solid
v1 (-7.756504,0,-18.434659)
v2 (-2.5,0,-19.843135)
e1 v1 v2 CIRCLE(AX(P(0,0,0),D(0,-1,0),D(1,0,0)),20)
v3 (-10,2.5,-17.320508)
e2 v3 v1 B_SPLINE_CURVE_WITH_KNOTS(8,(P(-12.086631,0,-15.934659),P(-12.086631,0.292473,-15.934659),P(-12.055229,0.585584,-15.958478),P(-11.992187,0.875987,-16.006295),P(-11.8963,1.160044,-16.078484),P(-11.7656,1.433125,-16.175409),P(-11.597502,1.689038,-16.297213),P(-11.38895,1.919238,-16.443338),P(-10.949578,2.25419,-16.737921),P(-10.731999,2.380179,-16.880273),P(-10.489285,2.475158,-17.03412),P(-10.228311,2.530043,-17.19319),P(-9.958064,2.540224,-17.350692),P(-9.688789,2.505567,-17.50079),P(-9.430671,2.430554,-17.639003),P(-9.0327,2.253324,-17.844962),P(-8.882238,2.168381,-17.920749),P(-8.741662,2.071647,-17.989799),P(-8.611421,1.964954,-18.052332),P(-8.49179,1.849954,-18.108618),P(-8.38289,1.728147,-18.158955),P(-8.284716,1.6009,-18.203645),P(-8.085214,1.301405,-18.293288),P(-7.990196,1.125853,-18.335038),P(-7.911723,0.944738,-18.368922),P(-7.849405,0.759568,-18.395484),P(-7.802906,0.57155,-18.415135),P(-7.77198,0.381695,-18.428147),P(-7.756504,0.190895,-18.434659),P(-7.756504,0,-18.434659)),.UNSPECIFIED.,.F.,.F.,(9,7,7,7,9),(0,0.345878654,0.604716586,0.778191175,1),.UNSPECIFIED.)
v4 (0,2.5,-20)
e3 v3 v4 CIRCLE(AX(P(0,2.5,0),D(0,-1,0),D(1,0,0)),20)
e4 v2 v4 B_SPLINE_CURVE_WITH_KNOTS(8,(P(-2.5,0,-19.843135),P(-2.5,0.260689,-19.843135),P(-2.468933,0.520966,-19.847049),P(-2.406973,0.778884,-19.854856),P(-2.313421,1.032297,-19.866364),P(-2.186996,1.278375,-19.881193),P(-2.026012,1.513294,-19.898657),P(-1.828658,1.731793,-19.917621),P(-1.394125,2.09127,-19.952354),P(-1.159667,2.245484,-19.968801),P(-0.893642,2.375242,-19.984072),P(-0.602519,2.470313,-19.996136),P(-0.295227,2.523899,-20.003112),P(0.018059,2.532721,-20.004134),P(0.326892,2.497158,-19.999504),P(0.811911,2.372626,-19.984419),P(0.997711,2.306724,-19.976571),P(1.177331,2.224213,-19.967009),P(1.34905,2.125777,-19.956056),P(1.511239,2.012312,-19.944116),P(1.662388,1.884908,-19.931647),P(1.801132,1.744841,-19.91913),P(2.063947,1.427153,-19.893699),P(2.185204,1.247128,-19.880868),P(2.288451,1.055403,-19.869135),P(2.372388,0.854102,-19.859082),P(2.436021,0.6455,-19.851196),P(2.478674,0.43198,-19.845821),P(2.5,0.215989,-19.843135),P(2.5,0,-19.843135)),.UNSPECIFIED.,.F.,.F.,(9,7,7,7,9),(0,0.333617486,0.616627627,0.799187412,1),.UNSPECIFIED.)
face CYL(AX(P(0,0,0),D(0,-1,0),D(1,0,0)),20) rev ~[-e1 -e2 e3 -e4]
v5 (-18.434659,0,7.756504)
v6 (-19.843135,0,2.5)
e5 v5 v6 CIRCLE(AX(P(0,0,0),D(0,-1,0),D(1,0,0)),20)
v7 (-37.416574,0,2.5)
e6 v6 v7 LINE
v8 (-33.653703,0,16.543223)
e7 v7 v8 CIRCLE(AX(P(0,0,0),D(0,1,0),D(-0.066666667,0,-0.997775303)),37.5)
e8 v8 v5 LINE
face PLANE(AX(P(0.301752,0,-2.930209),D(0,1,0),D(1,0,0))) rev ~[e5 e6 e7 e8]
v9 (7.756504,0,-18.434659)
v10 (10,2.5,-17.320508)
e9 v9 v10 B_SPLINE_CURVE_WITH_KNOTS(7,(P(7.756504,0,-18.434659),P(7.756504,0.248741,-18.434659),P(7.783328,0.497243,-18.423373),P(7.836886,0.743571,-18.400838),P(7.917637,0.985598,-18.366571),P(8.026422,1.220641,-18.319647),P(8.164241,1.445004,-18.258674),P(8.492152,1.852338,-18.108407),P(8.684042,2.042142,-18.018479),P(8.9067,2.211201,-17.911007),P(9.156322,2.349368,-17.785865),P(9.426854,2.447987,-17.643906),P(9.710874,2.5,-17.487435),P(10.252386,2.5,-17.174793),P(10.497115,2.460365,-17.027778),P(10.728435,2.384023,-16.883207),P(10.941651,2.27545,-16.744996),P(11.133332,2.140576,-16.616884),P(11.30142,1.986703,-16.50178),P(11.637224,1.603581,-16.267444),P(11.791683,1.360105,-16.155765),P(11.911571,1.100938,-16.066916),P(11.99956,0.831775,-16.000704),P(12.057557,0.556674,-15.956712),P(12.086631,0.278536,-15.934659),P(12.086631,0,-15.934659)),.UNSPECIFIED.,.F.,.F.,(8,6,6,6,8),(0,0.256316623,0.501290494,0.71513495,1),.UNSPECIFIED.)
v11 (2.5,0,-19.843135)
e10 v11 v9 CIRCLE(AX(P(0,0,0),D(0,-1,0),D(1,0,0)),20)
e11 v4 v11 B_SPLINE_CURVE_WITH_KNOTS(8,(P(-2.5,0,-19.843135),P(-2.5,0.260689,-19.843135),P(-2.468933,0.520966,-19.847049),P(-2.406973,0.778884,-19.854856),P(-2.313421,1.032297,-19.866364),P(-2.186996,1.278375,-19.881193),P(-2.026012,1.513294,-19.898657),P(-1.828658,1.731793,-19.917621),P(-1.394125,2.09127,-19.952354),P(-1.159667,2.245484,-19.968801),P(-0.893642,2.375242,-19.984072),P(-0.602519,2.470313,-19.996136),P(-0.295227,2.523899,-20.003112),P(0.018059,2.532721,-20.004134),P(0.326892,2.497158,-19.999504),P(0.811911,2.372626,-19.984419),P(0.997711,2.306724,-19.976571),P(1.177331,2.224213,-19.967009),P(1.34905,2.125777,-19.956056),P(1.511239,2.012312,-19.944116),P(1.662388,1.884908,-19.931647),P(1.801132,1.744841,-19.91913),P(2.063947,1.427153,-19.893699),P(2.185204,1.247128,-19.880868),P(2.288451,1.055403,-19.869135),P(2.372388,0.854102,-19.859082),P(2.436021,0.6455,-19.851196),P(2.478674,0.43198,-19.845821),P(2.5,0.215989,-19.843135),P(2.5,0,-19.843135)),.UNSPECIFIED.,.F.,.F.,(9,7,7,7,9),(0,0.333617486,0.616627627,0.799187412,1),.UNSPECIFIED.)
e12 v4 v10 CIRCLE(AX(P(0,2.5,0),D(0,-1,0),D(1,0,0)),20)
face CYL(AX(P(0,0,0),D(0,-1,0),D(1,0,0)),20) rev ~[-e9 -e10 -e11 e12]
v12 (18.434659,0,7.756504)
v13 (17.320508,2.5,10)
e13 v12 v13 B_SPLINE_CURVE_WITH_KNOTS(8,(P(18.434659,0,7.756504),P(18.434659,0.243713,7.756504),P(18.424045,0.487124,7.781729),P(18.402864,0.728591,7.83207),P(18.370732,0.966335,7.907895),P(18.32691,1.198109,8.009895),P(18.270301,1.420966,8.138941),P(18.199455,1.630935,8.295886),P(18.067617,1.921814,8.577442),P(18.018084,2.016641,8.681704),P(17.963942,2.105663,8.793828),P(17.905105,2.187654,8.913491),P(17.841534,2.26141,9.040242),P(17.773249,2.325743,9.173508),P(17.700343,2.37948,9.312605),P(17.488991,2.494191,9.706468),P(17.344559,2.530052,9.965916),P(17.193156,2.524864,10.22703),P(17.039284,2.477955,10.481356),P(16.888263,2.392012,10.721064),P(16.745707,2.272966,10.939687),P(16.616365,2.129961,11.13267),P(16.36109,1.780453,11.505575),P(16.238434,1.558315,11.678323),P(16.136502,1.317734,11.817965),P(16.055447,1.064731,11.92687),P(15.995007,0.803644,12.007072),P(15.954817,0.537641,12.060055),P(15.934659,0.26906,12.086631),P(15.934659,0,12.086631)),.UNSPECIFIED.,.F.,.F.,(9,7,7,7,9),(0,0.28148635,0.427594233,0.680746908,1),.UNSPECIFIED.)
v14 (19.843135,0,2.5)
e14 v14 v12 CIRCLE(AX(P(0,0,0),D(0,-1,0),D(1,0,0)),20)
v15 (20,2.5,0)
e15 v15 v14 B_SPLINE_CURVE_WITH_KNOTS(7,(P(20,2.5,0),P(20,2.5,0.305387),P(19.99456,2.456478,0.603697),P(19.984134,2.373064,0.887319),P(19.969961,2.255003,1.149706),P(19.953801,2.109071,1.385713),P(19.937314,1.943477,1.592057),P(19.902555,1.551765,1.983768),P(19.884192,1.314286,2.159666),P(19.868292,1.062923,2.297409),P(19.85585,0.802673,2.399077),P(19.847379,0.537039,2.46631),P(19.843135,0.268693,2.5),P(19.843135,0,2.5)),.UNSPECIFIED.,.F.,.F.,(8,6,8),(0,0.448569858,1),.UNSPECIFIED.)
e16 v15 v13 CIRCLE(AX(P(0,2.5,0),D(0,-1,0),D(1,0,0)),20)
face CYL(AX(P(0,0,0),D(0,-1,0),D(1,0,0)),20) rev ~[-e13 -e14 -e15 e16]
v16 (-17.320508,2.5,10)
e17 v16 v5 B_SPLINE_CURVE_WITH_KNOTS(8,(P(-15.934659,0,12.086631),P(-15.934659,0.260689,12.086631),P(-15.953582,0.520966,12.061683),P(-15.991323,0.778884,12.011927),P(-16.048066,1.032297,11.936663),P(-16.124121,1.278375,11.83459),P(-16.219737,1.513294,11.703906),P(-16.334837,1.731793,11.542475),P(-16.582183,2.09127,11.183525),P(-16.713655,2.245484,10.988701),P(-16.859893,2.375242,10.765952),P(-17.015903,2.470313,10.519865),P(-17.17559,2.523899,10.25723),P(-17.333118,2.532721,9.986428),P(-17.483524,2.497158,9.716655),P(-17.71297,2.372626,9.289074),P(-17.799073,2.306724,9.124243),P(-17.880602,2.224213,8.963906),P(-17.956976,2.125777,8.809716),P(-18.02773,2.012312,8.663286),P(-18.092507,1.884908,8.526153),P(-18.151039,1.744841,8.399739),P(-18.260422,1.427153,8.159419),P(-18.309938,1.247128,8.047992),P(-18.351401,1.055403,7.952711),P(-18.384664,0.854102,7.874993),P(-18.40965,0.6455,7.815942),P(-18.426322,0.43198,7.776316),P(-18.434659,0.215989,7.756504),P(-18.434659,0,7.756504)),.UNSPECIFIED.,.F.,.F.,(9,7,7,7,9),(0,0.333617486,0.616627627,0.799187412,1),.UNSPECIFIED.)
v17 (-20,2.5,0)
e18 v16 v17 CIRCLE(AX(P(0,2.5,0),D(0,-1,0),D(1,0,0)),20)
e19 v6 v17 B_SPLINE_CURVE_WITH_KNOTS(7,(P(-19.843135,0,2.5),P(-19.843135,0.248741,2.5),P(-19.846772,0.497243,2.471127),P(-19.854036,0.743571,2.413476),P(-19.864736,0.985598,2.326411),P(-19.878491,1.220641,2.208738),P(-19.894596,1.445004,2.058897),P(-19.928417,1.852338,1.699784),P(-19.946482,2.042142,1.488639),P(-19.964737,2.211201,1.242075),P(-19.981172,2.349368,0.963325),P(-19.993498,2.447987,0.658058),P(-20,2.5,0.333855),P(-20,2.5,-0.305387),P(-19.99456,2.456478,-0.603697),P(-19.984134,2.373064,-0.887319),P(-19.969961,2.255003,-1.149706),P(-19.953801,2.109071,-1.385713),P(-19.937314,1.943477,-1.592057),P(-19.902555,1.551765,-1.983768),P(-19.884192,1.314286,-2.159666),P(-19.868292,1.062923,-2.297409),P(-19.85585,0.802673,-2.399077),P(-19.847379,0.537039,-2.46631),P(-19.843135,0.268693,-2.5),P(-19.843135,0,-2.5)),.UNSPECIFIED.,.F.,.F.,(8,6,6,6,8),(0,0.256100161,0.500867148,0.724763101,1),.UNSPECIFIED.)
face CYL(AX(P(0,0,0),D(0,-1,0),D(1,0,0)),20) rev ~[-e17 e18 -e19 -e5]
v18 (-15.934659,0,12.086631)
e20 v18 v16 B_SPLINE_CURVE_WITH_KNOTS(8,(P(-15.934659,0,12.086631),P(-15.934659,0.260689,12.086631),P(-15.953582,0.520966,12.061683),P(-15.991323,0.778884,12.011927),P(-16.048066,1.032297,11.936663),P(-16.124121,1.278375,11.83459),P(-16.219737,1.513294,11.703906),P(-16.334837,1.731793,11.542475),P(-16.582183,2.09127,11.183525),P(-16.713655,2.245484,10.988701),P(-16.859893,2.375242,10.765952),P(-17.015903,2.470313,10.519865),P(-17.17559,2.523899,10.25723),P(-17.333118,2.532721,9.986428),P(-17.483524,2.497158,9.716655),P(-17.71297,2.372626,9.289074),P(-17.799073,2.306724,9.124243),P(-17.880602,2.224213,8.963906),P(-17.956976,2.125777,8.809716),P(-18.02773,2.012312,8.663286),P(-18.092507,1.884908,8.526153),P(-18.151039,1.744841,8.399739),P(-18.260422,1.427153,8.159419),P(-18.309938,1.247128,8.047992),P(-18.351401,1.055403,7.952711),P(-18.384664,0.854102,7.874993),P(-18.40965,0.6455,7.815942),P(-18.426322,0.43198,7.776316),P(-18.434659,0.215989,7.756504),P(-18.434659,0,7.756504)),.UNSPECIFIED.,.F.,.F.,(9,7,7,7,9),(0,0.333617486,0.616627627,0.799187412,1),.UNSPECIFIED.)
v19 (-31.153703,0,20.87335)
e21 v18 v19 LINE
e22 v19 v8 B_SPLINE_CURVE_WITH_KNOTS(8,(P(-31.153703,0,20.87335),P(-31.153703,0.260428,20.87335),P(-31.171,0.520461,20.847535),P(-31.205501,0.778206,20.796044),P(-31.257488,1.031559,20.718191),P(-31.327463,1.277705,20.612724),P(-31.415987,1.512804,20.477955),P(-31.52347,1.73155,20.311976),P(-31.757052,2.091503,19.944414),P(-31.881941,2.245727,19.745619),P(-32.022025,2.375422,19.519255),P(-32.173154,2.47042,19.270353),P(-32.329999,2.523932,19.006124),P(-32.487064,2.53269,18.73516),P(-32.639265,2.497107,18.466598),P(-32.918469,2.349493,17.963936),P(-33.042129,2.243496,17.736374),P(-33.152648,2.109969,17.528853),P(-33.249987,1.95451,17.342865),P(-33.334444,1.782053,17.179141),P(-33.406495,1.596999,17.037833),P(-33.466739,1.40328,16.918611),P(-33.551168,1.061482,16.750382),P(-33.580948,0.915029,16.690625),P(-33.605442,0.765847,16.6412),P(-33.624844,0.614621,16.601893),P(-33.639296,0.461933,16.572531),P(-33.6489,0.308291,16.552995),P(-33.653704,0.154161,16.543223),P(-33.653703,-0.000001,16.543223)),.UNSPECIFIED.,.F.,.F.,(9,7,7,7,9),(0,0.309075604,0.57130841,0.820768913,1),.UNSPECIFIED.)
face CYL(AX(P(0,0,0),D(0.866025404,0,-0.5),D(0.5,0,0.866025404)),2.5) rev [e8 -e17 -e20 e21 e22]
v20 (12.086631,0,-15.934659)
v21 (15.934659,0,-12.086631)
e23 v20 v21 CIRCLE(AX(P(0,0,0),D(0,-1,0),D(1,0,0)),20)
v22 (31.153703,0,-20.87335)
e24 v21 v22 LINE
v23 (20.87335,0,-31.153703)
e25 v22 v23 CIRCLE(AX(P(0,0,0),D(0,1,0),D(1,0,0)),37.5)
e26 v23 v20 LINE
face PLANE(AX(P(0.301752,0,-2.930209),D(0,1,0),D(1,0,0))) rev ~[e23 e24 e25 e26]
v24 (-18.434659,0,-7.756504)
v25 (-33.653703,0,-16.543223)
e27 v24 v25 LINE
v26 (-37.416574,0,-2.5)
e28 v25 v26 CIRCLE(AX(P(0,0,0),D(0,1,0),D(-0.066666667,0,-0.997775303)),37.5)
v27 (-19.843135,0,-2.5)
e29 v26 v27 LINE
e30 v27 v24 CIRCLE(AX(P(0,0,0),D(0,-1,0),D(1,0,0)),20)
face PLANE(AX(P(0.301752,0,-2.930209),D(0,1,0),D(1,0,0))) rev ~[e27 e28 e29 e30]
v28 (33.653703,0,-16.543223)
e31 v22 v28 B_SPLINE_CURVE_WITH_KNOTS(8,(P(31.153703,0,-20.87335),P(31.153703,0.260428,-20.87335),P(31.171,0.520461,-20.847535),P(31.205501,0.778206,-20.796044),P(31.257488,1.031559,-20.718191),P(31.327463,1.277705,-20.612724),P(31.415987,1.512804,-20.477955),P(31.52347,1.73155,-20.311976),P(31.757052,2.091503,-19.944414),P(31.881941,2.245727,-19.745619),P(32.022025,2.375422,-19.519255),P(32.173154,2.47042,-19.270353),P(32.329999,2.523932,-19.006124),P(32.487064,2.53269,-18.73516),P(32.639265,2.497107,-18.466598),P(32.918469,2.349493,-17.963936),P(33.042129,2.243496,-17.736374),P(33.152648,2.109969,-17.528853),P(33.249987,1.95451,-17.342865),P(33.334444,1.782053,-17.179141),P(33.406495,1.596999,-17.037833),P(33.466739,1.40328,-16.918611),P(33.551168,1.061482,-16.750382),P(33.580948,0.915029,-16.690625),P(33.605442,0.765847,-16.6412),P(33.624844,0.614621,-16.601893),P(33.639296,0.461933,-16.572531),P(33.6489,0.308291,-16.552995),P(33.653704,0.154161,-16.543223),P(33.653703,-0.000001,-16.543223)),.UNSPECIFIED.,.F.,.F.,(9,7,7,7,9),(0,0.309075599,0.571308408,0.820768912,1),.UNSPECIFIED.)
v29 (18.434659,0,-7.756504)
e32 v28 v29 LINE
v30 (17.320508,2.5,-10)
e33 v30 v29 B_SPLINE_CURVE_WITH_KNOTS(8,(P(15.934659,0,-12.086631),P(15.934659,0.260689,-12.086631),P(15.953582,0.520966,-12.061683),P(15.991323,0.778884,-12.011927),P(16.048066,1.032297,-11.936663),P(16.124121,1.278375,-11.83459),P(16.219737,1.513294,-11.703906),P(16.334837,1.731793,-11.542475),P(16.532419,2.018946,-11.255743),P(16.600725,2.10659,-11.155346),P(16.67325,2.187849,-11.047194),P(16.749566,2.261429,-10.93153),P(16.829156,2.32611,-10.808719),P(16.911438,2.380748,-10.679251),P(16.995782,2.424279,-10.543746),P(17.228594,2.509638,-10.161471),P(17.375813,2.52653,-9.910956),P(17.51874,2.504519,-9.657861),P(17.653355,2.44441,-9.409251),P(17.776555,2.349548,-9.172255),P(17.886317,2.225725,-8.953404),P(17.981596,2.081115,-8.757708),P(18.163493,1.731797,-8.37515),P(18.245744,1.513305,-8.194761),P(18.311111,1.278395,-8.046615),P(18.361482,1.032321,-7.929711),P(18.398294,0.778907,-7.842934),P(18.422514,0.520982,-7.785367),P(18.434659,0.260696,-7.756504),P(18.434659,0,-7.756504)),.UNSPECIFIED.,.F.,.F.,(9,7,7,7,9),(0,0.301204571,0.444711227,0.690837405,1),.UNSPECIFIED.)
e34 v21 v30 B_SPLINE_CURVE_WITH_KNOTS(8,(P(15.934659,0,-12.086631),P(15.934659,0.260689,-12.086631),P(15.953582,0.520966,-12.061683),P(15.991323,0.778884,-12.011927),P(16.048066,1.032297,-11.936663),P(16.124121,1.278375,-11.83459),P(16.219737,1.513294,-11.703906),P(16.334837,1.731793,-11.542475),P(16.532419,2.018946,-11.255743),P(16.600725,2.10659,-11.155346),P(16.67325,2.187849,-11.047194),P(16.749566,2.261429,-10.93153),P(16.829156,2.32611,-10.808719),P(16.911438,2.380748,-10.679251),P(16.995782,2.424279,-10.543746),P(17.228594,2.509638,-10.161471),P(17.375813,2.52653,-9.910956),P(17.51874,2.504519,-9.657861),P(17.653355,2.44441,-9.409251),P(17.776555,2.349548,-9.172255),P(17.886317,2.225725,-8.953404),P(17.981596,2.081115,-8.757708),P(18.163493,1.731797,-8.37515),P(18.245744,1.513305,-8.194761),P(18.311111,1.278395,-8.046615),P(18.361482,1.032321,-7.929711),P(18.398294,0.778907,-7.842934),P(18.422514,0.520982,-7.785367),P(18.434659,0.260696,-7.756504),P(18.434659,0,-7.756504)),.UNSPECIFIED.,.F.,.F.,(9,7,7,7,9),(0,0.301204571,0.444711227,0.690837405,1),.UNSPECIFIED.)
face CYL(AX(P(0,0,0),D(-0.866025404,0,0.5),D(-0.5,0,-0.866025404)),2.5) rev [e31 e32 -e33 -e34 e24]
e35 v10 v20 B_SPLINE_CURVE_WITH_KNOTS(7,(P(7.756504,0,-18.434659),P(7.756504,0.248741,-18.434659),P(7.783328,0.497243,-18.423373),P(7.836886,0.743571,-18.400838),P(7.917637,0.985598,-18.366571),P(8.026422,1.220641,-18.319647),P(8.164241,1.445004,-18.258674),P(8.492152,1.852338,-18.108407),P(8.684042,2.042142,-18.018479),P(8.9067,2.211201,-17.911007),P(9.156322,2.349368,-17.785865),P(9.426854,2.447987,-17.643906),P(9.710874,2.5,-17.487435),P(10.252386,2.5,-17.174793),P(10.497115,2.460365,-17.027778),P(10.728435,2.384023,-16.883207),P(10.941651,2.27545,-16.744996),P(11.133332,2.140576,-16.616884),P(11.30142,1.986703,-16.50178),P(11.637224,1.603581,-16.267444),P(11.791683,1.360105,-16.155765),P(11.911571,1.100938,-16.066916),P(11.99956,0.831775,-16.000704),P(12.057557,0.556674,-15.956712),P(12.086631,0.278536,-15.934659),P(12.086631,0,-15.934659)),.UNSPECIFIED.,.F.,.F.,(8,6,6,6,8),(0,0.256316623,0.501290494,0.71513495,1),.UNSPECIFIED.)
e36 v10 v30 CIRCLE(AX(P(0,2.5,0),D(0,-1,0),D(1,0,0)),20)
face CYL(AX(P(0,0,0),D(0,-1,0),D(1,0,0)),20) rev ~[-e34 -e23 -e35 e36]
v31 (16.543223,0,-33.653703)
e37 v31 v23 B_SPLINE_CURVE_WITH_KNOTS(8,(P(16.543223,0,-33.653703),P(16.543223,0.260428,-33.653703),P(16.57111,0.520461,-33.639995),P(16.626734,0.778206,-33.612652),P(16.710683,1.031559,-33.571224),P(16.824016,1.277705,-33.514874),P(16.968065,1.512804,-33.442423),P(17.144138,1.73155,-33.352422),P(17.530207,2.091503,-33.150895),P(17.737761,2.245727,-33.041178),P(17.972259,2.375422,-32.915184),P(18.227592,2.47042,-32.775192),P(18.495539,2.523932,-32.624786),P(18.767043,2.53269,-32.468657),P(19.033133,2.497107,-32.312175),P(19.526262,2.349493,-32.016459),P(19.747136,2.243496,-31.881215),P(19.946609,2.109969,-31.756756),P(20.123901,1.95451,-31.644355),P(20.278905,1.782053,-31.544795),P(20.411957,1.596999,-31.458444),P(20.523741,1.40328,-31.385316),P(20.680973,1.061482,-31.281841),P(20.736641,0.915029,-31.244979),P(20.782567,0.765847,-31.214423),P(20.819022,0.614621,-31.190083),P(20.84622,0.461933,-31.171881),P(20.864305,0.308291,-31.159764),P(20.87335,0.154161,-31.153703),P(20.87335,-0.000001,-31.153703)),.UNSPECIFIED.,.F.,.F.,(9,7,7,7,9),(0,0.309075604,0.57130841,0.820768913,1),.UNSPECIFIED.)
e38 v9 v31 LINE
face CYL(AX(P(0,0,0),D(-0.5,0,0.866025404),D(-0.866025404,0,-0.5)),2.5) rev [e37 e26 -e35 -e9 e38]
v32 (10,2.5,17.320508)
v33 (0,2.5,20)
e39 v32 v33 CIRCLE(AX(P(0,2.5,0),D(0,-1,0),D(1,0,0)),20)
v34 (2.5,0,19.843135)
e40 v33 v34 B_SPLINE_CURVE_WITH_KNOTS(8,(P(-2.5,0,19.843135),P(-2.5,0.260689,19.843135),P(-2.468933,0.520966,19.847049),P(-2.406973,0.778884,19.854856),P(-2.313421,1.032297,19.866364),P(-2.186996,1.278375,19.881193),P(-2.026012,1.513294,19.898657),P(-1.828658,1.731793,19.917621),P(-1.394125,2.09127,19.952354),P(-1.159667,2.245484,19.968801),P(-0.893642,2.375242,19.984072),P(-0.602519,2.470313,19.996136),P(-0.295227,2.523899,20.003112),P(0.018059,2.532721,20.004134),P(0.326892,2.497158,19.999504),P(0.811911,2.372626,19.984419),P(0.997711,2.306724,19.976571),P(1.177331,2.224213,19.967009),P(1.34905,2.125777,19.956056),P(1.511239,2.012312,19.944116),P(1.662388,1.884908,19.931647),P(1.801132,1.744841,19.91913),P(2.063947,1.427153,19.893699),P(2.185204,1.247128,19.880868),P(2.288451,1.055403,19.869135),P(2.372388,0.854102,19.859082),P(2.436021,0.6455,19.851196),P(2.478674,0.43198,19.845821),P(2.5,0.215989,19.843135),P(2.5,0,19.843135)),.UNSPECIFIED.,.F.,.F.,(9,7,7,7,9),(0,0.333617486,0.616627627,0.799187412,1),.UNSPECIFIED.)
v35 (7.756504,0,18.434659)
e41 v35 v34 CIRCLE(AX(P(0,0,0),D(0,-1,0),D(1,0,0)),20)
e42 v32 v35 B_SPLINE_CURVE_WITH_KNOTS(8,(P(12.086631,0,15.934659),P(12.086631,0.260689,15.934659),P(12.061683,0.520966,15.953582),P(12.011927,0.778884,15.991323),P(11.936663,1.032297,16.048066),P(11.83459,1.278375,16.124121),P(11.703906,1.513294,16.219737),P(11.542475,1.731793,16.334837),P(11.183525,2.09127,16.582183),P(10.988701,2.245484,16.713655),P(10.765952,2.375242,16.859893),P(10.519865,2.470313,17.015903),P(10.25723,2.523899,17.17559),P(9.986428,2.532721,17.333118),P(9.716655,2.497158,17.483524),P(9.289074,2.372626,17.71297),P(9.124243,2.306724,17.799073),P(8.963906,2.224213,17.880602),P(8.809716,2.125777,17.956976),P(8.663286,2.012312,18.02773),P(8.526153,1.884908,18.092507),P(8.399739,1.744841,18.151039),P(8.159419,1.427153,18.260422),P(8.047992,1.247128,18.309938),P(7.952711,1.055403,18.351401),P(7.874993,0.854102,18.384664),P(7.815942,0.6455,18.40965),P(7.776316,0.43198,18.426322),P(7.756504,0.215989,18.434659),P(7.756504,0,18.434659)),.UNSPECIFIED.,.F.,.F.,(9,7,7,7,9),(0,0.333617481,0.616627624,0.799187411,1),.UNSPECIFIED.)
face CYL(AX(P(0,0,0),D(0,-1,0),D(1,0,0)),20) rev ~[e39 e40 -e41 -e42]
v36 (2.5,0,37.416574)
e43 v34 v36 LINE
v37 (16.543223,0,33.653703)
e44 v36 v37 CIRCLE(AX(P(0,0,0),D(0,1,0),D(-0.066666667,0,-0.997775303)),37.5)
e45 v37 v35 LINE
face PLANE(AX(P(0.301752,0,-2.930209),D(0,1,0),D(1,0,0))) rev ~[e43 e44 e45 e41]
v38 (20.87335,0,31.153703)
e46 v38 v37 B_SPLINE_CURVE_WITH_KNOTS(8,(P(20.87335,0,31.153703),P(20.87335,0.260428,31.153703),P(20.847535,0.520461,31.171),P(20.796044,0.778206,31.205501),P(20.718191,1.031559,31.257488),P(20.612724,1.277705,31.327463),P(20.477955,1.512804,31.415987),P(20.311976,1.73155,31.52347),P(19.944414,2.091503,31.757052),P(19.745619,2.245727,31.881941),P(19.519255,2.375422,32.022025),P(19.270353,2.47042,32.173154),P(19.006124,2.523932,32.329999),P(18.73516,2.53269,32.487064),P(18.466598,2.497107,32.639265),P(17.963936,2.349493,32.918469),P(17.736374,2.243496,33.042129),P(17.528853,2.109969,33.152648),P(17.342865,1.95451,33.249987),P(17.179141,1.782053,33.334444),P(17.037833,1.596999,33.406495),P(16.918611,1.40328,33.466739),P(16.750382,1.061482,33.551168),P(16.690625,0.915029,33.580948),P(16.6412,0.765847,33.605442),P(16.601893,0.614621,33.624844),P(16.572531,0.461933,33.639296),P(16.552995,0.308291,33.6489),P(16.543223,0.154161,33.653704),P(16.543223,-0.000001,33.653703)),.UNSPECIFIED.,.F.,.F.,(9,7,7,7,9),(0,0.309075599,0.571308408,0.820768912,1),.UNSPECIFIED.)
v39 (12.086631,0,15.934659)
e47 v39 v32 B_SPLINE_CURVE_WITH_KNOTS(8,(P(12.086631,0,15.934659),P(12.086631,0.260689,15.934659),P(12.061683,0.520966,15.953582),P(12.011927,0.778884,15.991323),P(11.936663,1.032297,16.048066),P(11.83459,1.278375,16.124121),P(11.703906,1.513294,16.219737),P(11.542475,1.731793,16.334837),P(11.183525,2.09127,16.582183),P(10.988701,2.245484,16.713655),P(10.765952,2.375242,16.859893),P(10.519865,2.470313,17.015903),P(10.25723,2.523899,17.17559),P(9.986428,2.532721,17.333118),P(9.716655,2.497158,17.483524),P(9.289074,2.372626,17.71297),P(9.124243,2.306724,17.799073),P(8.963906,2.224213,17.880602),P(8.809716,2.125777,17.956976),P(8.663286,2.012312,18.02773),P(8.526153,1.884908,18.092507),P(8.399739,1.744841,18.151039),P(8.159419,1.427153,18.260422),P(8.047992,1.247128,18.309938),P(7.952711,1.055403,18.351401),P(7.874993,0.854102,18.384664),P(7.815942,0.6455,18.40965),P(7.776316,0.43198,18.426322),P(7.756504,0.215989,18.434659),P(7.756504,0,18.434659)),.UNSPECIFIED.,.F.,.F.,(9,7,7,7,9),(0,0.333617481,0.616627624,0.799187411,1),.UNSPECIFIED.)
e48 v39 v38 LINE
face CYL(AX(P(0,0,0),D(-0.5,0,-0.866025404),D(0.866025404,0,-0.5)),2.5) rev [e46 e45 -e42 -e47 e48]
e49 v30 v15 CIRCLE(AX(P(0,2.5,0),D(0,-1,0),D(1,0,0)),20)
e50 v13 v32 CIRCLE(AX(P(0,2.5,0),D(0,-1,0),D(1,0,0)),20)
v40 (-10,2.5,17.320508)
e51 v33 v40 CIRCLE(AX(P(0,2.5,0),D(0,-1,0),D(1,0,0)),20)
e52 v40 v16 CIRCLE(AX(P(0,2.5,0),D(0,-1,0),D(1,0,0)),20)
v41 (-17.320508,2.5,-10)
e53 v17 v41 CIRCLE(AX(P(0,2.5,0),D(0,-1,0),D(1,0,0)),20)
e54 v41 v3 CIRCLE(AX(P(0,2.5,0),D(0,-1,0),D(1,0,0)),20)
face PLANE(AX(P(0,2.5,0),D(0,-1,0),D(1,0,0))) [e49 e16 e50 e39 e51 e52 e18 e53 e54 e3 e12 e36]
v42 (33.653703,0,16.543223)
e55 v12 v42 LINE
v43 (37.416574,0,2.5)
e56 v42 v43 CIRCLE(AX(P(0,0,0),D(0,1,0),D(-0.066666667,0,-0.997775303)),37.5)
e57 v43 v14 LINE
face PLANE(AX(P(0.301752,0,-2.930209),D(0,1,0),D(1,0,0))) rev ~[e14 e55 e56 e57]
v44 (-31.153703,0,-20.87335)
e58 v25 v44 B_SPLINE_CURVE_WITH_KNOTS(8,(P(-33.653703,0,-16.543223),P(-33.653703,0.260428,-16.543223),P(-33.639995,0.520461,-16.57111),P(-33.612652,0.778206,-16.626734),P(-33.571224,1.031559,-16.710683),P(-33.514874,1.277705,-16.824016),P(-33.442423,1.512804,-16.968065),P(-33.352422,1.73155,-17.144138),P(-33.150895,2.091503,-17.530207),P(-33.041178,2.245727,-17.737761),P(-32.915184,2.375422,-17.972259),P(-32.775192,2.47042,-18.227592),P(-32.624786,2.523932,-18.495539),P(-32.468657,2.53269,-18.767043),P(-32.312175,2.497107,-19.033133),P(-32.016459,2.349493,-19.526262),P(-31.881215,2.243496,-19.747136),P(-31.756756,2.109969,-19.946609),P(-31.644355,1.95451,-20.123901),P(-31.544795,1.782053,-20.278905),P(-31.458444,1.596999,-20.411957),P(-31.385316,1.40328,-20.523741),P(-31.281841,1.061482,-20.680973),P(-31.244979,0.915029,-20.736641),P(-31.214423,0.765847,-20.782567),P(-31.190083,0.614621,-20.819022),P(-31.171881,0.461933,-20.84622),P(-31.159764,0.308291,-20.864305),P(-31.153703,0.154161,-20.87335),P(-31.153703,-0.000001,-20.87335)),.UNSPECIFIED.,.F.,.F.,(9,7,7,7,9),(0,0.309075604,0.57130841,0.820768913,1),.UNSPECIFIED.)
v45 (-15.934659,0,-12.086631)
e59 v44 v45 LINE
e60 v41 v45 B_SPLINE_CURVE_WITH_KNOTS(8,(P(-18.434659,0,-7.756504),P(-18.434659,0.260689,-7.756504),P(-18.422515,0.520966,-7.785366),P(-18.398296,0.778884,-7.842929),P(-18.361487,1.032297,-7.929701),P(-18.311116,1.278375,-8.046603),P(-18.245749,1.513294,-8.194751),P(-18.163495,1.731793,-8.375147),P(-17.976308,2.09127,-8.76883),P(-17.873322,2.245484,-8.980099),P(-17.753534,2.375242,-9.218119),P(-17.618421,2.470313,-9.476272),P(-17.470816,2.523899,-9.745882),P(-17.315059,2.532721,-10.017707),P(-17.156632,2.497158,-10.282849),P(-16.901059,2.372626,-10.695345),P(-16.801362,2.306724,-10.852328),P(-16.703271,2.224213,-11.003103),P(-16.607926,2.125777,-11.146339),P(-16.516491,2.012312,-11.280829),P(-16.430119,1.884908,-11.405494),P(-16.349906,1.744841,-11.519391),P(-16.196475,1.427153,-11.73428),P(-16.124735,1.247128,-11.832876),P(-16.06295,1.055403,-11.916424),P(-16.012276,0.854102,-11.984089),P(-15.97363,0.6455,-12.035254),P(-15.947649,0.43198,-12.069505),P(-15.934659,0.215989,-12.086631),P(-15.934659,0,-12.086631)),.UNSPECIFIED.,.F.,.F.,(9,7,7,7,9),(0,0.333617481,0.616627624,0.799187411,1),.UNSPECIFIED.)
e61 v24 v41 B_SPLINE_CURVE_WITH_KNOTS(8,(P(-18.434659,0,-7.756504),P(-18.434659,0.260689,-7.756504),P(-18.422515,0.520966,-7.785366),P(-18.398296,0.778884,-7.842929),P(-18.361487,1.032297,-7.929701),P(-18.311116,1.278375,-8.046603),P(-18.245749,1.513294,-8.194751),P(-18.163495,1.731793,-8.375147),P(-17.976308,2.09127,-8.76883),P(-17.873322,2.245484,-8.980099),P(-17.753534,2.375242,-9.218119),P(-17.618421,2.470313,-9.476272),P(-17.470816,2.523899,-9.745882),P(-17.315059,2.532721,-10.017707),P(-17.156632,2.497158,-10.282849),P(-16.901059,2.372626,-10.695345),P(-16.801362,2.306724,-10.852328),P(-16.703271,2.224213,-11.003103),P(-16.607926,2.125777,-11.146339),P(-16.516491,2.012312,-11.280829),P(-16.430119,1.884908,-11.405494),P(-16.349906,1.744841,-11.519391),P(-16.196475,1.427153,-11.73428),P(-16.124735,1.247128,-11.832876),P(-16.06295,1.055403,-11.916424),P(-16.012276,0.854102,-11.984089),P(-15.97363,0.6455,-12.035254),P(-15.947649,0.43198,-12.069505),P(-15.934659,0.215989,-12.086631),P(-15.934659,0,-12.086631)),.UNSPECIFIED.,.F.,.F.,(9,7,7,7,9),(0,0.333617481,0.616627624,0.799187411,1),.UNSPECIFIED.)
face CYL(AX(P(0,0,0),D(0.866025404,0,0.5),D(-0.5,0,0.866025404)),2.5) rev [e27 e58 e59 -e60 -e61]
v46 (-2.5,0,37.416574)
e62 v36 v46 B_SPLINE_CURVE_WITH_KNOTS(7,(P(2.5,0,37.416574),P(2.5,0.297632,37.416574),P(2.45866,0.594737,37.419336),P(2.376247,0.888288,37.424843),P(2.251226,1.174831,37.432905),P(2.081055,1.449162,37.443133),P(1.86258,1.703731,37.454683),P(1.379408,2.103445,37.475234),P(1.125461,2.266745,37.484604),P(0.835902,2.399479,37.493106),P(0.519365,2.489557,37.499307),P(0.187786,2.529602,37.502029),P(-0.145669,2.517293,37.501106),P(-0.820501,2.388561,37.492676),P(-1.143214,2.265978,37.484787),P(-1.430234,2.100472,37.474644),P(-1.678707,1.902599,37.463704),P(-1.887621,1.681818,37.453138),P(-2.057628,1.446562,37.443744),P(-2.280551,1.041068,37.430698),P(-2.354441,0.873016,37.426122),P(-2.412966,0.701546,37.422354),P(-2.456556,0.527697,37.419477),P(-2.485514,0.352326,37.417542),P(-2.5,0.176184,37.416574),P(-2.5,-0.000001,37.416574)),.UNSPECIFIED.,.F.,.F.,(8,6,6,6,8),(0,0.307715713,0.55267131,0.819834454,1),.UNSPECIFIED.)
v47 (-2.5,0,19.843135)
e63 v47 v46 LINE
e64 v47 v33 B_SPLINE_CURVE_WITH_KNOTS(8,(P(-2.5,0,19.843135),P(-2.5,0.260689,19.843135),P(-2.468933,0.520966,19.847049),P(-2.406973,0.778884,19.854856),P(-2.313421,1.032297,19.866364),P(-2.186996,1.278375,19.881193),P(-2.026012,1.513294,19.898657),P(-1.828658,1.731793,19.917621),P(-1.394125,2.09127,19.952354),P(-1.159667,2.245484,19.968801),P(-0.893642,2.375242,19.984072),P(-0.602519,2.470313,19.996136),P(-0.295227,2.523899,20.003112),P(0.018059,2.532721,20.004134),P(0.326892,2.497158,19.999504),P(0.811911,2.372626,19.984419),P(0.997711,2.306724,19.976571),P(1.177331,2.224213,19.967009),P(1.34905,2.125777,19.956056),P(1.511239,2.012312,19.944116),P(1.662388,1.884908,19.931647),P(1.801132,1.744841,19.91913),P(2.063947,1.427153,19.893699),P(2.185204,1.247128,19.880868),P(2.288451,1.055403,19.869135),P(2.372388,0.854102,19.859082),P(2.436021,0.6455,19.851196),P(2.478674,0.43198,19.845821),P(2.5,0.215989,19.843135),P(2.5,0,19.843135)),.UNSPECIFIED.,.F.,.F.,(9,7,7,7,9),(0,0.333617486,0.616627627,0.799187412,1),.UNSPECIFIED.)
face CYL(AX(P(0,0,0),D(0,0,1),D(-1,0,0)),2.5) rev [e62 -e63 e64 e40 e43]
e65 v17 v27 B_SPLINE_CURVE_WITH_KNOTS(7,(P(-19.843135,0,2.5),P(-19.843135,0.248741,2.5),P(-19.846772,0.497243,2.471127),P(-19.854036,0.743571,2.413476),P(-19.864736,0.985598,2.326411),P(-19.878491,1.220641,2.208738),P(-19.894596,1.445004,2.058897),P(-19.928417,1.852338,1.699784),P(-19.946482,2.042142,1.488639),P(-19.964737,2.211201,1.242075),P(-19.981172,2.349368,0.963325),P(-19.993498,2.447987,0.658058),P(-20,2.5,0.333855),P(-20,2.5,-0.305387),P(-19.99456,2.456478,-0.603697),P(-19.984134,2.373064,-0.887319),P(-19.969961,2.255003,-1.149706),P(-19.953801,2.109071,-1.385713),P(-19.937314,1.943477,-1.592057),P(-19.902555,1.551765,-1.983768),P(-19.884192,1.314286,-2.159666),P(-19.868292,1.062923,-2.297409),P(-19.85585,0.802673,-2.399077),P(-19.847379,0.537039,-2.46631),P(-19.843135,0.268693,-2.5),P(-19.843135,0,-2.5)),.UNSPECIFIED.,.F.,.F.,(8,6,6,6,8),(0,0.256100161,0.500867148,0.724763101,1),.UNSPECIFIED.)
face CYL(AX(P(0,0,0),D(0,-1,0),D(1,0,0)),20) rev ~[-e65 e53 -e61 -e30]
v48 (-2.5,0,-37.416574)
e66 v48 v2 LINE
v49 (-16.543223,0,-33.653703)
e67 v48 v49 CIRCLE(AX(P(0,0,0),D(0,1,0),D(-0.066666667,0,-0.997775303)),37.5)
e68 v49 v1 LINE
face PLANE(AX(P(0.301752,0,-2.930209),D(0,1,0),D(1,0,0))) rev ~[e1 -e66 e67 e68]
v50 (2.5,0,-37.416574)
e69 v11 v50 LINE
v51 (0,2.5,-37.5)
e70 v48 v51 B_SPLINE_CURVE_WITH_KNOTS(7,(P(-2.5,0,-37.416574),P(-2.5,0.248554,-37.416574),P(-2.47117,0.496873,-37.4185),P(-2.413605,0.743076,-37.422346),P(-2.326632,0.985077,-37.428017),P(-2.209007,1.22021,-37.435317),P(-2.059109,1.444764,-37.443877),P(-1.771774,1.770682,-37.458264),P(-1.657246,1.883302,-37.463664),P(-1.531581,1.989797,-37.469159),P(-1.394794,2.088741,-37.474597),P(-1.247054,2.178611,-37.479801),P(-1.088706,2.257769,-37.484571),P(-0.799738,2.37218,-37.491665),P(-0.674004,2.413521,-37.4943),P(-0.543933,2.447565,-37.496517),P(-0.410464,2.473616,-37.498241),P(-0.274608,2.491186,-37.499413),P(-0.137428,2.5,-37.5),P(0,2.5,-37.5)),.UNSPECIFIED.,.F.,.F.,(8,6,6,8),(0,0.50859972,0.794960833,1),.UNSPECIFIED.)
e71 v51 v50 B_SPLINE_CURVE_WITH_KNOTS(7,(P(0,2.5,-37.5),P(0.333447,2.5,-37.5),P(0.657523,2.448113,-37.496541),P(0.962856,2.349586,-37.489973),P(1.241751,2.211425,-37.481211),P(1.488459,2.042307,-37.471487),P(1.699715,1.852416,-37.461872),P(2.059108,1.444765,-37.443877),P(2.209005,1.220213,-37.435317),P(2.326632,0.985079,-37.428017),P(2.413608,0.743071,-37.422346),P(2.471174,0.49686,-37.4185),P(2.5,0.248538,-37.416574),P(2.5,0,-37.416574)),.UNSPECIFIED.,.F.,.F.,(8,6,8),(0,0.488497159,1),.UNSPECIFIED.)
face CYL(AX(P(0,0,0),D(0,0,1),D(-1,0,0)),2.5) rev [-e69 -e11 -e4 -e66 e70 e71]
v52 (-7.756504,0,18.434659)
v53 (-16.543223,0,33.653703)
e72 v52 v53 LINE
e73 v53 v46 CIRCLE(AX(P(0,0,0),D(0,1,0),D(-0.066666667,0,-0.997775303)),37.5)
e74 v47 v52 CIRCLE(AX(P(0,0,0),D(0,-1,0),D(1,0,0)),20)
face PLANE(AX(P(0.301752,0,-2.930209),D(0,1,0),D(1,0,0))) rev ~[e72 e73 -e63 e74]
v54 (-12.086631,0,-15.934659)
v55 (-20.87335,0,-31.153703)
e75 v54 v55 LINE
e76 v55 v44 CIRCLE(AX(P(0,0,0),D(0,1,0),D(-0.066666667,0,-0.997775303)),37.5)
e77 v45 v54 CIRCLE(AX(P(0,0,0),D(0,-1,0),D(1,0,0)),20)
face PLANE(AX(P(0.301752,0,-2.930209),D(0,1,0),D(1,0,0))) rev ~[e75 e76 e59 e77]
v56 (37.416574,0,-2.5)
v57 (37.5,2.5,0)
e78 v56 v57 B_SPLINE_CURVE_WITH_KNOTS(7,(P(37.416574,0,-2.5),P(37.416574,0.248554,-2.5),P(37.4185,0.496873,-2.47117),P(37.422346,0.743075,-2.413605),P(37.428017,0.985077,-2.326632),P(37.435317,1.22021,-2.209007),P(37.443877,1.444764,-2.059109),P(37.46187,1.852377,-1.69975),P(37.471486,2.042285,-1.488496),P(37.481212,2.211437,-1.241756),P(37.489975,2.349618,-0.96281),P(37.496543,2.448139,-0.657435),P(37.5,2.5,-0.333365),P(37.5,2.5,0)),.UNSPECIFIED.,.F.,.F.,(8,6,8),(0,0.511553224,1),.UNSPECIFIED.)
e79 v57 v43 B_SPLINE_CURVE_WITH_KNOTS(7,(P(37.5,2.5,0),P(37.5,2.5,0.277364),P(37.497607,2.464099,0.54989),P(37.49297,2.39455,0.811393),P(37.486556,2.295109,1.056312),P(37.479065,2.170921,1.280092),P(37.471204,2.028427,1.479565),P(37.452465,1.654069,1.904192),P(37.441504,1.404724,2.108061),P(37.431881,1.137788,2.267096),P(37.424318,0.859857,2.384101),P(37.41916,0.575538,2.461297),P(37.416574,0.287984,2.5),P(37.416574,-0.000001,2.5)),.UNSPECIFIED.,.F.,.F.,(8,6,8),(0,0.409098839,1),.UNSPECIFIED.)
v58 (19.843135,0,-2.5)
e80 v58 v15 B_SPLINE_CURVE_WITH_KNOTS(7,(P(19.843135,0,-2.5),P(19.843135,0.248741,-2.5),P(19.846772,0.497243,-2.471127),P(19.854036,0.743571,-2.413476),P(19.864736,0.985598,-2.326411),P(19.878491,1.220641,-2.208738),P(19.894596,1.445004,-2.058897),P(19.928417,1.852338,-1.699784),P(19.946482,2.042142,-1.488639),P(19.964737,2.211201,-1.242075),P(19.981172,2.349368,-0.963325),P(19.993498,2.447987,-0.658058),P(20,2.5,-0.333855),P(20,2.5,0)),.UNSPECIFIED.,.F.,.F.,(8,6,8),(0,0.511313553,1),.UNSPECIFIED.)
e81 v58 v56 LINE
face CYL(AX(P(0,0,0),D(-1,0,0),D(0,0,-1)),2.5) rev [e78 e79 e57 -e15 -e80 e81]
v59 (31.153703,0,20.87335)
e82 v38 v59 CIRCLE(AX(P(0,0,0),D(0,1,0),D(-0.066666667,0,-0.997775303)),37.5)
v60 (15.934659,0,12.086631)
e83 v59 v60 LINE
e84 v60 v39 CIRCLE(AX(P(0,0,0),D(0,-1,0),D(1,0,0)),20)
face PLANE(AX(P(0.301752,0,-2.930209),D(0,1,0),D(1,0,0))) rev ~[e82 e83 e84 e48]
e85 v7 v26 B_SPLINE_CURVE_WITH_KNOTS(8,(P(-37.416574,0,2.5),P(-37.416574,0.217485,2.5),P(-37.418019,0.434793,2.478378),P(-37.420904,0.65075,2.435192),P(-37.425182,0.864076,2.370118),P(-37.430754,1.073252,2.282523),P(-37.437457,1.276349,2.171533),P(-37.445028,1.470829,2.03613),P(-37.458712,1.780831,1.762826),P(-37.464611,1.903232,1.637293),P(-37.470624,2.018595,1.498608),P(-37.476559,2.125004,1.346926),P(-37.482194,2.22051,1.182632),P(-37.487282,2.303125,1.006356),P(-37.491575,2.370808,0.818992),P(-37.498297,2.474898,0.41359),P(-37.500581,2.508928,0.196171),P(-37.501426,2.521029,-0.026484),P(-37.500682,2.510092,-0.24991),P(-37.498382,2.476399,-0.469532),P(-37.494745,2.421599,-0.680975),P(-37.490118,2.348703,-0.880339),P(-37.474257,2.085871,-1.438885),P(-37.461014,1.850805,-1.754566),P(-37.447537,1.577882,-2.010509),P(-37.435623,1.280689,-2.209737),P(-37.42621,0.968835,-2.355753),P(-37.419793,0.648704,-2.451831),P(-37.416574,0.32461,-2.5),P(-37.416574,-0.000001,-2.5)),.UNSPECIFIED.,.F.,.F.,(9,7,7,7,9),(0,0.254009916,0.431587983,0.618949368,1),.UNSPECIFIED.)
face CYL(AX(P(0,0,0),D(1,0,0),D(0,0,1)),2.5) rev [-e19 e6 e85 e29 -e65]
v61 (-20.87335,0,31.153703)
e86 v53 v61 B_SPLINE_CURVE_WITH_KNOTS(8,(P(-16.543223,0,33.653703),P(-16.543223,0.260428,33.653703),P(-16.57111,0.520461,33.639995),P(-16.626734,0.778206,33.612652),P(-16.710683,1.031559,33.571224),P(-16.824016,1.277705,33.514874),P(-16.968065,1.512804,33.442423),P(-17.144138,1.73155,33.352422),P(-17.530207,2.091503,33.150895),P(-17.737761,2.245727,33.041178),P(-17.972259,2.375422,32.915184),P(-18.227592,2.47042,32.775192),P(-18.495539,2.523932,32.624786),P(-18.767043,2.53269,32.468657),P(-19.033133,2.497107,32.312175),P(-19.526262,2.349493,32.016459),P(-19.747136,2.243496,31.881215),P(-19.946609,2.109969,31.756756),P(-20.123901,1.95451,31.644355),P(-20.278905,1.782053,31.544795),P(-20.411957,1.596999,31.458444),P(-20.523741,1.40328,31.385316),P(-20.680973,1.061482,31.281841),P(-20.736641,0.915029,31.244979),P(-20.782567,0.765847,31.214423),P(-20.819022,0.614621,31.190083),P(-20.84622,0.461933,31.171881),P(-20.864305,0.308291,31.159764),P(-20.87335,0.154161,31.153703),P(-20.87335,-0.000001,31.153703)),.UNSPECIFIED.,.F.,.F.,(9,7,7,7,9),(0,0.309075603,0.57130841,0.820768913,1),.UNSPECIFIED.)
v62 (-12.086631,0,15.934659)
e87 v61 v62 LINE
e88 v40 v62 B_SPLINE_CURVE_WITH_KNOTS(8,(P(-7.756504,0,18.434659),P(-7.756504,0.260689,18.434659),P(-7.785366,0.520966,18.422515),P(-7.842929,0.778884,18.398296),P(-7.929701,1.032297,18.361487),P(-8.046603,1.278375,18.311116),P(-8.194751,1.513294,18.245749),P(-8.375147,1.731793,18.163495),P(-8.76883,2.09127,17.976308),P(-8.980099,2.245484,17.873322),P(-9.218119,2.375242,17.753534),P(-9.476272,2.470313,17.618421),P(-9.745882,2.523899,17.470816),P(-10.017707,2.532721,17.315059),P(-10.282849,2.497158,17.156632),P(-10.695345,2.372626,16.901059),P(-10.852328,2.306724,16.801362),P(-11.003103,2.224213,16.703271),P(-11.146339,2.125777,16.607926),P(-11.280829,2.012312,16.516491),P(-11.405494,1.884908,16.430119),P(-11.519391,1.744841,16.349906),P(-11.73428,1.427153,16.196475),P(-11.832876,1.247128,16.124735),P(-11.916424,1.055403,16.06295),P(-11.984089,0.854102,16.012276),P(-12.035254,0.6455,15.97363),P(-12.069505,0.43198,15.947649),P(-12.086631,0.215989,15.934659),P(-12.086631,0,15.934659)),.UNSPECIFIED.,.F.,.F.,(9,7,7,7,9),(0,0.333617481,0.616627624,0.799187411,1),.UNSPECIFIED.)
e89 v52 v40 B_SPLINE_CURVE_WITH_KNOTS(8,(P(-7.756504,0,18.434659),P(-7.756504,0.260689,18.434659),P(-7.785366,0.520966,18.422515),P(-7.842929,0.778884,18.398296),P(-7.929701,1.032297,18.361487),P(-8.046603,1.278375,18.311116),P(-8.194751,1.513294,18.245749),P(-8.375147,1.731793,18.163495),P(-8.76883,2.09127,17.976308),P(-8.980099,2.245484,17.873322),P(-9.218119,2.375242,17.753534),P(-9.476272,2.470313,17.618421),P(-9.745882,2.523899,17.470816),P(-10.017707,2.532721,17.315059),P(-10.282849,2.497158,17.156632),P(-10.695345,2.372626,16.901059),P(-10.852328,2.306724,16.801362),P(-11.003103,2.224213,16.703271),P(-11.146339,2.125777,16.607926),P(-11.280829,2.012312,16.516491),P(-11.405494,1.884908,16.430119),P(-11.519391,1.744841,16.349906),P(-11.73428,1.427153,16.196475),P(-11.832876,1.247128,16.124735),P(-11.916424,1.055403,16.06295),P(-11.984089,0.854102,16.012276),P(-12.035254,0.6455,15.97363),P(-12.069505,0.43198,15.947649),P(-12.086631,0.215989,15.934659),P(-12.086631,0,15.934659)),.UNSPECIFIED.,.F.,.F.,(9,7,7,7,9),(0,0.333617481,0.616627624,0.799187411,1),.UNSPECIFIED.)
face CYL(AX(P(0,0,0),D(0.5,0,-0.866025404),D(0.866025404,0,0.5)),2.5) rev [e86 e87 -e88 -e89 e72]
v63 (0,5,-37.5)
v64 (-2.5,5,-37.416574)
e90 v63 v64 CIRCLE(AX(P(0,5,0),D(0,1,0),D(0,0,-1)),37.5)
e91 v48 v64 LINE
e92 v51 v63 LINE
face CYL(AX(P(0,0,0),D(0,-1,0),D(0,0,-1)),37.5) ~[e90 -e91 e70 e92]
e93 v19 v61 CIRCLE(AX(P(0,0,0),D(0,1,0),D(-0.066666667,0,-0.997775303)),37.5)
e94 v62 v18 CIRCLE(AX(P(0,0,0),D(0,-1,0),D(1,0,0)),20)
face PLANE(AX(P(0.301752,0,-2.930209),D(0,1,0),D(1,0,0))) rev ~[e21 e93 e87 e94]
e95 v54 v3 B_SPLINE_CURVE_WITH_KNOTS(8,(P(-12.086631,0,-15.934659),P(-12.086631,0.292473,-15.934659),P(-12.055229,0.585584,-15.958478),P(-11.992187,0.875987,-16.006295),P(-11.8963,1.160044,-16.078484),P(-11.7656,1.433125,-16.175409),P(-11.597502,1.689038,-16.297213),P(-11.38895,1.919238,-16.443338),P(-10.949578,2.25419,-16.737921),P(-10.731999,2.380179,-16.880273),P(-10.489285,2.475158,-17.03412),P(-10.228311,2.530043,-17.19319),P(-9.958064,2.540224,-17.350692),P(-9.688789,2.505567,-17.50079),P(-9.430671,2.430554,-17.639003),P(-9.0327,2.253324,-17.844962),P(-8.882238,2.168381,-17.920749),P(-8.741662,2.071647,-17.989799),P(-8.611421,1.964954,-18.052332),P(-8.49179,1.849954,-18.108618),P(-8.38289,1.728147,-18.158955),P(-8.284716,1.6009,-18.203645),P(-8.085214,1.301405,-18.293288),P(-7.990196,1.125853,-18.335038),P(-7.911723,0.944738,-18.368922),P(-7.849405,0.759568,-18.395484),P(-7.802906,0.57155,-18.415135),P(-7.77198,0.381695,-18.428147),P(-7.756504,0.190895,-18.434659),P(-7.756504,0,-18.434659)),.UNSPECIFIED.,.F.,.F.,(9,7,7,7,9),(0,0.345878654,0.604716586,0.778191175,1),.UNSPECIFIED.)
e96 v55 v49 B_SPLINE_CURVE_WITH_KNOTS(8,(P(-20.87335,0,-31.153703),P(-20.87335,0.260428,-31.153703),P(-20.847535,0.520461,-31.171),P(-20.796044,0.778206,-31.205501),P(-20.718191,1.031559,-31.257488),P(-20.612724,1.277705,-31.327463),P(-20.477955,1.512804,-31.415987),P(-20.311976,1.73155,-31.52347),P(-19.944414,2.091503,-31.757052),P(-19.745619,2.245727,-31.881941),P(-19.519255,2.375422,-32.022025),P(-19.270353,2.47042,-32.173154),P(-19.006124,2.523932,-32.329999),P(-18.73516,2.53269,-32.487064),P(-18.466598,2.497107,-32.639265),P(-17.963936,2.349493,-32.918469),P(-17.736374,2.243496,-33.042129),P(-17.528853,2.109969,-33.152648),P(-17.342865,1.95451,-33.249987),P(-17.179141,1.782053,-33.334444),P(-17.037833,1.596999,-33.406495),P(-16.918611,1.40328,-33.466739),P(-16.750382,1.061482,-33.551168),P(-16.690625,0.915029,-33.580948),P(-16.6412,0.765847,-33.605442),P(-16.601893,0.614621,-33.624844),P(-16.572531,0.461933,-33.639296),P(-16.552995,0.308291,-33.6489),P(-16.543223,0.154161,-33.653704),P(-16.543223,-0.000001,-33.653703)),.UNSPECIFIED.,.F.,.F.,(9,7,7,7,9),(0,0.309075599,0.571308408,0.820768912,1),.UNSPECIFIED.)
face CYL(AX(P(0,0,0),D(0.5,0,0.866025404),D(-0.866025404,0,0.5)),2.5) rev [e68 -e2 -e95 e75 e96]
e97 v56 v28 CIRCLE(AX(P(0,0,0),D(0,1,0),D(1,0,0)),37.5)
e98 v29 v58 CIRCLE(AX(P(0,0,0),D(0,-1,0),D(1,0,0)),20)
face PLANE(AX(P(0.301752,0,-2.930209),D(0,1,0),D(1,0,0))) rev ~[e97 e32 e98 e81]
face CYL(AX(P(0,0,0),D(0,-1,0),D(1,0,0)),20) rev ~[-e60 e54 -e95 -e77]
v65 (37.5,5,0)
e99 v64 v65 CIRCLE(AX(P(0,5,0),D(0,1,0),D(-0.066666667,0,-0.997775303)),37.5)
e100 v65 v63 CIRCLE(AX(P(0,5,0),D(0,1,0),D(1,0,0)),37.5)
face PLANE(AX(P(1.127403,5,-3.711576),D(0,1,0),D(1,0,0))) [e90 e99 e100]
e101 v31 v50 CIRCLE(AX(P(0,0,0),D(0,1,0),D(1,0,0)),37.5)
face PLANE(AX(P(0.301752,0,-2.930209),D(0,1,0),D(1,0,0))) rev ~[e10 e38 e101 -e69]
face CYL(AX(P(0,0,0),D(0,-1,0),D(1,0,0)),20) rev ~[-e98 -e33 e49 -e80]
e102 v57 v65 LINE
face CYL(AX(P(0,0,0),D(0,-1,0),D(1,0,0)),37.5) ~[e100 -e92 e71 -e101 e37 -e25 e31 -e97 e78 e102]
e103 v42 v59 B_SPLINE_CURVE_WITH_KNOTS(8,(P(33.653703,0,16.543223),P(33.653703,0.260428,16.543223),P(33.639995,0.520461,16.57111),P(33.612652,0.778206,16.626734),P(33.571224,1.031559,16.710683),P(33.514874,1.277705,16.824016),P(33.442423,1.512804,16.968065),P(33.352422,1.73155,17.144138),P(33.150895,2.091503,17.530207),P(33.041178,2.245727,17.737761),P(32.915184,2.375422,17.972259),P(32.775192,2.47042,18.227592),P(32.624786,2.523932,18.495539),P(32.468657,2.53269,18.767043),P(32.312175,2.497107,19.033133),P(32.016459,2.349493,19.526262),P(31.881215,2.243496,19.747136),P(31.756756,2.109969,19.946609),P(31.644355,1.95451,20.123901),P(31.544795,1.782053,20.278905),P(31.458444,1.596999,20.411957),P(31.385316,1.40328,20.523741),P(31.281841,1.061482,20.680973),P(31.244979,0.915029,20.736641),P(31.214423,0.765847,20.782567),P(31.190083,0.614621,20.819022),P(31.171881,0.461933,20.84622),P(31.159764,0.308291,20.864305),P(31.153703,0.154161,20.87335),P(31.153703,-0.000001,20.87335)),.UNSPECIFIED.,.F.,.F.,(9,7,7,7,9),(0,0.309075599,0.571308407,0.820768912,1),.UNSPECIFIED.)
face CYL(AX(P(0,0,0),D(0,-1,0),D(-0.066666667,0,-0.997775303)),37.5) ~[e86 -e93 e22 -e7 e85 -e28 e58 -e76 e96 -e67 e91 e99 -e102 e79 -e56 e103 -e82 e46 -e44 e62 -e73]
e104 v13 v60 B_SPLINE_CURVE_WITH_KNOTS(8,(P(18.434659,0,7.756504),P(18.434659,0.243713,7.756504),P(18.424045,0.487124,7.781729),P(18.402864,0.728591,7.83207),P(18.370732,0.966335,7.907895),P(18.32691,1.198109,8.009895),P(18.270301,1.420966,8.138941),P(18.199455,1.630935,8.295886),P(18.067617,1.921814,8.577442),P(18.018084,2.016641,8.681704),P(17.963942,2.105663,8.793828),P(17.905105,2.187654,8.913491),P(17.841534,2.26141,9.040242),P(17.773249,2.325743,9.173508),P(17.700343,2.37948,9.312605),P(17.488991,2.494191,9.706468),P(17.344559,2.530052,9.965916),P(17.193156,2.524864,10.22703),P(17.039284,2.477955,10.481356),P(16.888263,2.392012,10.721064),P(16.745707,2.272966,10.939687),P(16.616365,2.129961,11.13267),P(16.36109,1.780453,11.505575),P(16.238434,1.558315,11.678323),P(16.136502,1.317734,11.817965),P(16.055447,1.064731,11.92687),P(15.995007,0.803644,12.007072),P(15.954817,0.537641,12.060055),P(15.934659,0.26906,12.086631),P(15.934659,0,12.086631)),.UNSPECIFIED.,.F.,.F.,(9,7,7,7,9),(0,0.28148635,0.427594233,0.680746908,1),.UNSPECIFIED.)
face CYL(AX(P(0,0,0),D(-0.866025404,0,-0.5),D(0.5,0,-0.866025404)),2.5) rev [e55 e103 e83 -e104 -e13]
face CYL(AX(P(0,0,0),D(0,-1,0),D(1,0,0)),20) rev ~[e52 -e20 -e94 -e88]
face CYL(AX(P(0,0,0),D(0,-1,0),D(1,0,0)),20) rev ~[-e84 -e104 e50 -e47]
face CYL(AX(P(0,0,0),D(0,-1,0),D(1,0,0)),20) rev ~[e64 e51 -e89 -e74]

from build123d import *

# Parameters (mm, degrees)
SKETCH_1_W               = 2.5
SKETCH_1_H               = 60
EXTRUDE_1_DEPTH          = 5
EXTRUDE_2_DEPTH          = 5
CUT_EXTRUDE_START        = -60
SKETCH_4_R               = 2.5
CUT_EXTRUDE_1_DEPTH      = 60
PATTERN_CIRCULAR_2_COUNT = 12
SKETCH_5_R               = 20
CUT_EXTRUDE_2_DEPTH      = 2.5


with BuildPart() as part:
    # Эскиз1 → Повернуть2 (revolve)
    with BuildSketch(Plane(origin=(0, 0, 0), x_dir=(1, 0, 0), z_dir=(0, 1, 0)), mode=Mode.PRIVATE) as revolve_2_sk:
        with Locations((-1.25, 30)):
            Rectangle(SKETCH_1_W, SKETCH_1_H)
    revolve(revolve_2_sk.sketch.rotate(Axis((0, 0, 37.5), (0, 0, -1)), 180), axis=Axis((0, 0, 37.5), (0, 0, -1)))

    # Эскиз1<5> → Бобышка-Вытянуть1 (add)
    with BuildSketch(Plane(origin=(0, 0, 0), x_dir=(1, 0, 0), z_dir=(0, 1, 0))):
        with BuildLine():
            ThreePointArc((20, 0), (-13.228756555, -15), (-2.5, 19.843134833))
            Line((-2.5, 19.843134833), (-2.5, 37.416573868))
            ThreePointArc((-2.5, 37.416573868), (-25.617376915, -27.386127875), (37.5, 0))
            ThreePointArc((37.5, 0), (26.516504294, 26.516504294), (0, 37.5))
            Line((0, 37.5), (0, 20))
            ThreePointArc((0, 20), (14.142135624, 14.142135624), (20, 0))
        make_face()
        with BuildLine():
            Line((-2.5, 37.416573868), (-2.5, 19.843134833))
            ThreePointArc((-2.5, 19.843134833), (-1.252458251, 19.960745185), (0, 20))
            Line((0, 20), (0, 37.5))
            ThreePointArc((0, 37.5), (-1.250695798, 37.479137664), (-2.5, 37.416573868))
        make_face()
    extrude(amount=EXTRUDE_1_DEPTH)

    # Эскиз1<6> → Бобышка-Вытянуть2 (add)
    with BuildSketch(Plane(origin=(0, 0, 0), x_dir=(1, 0, 0), z_dir=(0, 1, 0))):
        with BuildLine():
            Line((0, 0), (-2.5, 0))
            Line((-2.5, 0), (-2.5, 19.843134833))
            ThreePointArc((-2.5, 19.843134833), (-13.228756555, -15), (20, 0))
            ThreePointArc((20, 0), (14.142135624, 14.142135624), (0, 20))
            Line((0, 20), (0, 0))
        make_face()
        with BuildLine():
            Line((-2.5, 19.843134833), (-2.5, 0))
            Line((-2.5, 0), (0, 0))
            Line((0, 0), (0, 20))
            ThreePointArc((0, 20), (-1.252458251, 19.960745185), (-2.5, 19.843134833))
        make_face()
    extrude(amount=EXTRUDE_2_DEPTH)

    # Эскиз4 → Вырез-Вытянуть1 (cut)
    with BuildSketch(Plane(origin=(0, 0, -60), x_dir=(-1, 0, 0), z_dir=(0, 0, -1)).offset(CUT_EXTRUDE_START)):
        Circle(SKETCH_4_R)
    cut_extrude_1 = extrude(amount=CUT_EXTRUDE_1_DEPTH, mode=Mode.SUBTRACT)

    # Круговой массив2: Вырез-Вытянуть1 ×12 about axis
    pattern_circular_2_axis = Axis((0, 29.957095594, 0), (0, -1, 0))
    for i in range(1, PATTERN_CIRCULAR_2_COUNT):
        add(cut_extrude_1.rotate(pattern_circular_2_axis, i * 360 / PATTERN_CIRCULAR_2_COUNT), mode=Mode.SUBTRACT)

    # Эскиз5 → Вырез-Вытянуть2 (cut)
    with BuildSketch(Plane.XZ):
        Circle(SKETCH_5_R)
    extrude(amount=-CUT_EXTRUDE_2_DEPTH, mode=Mode.SUBTRACT)


solid = part.part
